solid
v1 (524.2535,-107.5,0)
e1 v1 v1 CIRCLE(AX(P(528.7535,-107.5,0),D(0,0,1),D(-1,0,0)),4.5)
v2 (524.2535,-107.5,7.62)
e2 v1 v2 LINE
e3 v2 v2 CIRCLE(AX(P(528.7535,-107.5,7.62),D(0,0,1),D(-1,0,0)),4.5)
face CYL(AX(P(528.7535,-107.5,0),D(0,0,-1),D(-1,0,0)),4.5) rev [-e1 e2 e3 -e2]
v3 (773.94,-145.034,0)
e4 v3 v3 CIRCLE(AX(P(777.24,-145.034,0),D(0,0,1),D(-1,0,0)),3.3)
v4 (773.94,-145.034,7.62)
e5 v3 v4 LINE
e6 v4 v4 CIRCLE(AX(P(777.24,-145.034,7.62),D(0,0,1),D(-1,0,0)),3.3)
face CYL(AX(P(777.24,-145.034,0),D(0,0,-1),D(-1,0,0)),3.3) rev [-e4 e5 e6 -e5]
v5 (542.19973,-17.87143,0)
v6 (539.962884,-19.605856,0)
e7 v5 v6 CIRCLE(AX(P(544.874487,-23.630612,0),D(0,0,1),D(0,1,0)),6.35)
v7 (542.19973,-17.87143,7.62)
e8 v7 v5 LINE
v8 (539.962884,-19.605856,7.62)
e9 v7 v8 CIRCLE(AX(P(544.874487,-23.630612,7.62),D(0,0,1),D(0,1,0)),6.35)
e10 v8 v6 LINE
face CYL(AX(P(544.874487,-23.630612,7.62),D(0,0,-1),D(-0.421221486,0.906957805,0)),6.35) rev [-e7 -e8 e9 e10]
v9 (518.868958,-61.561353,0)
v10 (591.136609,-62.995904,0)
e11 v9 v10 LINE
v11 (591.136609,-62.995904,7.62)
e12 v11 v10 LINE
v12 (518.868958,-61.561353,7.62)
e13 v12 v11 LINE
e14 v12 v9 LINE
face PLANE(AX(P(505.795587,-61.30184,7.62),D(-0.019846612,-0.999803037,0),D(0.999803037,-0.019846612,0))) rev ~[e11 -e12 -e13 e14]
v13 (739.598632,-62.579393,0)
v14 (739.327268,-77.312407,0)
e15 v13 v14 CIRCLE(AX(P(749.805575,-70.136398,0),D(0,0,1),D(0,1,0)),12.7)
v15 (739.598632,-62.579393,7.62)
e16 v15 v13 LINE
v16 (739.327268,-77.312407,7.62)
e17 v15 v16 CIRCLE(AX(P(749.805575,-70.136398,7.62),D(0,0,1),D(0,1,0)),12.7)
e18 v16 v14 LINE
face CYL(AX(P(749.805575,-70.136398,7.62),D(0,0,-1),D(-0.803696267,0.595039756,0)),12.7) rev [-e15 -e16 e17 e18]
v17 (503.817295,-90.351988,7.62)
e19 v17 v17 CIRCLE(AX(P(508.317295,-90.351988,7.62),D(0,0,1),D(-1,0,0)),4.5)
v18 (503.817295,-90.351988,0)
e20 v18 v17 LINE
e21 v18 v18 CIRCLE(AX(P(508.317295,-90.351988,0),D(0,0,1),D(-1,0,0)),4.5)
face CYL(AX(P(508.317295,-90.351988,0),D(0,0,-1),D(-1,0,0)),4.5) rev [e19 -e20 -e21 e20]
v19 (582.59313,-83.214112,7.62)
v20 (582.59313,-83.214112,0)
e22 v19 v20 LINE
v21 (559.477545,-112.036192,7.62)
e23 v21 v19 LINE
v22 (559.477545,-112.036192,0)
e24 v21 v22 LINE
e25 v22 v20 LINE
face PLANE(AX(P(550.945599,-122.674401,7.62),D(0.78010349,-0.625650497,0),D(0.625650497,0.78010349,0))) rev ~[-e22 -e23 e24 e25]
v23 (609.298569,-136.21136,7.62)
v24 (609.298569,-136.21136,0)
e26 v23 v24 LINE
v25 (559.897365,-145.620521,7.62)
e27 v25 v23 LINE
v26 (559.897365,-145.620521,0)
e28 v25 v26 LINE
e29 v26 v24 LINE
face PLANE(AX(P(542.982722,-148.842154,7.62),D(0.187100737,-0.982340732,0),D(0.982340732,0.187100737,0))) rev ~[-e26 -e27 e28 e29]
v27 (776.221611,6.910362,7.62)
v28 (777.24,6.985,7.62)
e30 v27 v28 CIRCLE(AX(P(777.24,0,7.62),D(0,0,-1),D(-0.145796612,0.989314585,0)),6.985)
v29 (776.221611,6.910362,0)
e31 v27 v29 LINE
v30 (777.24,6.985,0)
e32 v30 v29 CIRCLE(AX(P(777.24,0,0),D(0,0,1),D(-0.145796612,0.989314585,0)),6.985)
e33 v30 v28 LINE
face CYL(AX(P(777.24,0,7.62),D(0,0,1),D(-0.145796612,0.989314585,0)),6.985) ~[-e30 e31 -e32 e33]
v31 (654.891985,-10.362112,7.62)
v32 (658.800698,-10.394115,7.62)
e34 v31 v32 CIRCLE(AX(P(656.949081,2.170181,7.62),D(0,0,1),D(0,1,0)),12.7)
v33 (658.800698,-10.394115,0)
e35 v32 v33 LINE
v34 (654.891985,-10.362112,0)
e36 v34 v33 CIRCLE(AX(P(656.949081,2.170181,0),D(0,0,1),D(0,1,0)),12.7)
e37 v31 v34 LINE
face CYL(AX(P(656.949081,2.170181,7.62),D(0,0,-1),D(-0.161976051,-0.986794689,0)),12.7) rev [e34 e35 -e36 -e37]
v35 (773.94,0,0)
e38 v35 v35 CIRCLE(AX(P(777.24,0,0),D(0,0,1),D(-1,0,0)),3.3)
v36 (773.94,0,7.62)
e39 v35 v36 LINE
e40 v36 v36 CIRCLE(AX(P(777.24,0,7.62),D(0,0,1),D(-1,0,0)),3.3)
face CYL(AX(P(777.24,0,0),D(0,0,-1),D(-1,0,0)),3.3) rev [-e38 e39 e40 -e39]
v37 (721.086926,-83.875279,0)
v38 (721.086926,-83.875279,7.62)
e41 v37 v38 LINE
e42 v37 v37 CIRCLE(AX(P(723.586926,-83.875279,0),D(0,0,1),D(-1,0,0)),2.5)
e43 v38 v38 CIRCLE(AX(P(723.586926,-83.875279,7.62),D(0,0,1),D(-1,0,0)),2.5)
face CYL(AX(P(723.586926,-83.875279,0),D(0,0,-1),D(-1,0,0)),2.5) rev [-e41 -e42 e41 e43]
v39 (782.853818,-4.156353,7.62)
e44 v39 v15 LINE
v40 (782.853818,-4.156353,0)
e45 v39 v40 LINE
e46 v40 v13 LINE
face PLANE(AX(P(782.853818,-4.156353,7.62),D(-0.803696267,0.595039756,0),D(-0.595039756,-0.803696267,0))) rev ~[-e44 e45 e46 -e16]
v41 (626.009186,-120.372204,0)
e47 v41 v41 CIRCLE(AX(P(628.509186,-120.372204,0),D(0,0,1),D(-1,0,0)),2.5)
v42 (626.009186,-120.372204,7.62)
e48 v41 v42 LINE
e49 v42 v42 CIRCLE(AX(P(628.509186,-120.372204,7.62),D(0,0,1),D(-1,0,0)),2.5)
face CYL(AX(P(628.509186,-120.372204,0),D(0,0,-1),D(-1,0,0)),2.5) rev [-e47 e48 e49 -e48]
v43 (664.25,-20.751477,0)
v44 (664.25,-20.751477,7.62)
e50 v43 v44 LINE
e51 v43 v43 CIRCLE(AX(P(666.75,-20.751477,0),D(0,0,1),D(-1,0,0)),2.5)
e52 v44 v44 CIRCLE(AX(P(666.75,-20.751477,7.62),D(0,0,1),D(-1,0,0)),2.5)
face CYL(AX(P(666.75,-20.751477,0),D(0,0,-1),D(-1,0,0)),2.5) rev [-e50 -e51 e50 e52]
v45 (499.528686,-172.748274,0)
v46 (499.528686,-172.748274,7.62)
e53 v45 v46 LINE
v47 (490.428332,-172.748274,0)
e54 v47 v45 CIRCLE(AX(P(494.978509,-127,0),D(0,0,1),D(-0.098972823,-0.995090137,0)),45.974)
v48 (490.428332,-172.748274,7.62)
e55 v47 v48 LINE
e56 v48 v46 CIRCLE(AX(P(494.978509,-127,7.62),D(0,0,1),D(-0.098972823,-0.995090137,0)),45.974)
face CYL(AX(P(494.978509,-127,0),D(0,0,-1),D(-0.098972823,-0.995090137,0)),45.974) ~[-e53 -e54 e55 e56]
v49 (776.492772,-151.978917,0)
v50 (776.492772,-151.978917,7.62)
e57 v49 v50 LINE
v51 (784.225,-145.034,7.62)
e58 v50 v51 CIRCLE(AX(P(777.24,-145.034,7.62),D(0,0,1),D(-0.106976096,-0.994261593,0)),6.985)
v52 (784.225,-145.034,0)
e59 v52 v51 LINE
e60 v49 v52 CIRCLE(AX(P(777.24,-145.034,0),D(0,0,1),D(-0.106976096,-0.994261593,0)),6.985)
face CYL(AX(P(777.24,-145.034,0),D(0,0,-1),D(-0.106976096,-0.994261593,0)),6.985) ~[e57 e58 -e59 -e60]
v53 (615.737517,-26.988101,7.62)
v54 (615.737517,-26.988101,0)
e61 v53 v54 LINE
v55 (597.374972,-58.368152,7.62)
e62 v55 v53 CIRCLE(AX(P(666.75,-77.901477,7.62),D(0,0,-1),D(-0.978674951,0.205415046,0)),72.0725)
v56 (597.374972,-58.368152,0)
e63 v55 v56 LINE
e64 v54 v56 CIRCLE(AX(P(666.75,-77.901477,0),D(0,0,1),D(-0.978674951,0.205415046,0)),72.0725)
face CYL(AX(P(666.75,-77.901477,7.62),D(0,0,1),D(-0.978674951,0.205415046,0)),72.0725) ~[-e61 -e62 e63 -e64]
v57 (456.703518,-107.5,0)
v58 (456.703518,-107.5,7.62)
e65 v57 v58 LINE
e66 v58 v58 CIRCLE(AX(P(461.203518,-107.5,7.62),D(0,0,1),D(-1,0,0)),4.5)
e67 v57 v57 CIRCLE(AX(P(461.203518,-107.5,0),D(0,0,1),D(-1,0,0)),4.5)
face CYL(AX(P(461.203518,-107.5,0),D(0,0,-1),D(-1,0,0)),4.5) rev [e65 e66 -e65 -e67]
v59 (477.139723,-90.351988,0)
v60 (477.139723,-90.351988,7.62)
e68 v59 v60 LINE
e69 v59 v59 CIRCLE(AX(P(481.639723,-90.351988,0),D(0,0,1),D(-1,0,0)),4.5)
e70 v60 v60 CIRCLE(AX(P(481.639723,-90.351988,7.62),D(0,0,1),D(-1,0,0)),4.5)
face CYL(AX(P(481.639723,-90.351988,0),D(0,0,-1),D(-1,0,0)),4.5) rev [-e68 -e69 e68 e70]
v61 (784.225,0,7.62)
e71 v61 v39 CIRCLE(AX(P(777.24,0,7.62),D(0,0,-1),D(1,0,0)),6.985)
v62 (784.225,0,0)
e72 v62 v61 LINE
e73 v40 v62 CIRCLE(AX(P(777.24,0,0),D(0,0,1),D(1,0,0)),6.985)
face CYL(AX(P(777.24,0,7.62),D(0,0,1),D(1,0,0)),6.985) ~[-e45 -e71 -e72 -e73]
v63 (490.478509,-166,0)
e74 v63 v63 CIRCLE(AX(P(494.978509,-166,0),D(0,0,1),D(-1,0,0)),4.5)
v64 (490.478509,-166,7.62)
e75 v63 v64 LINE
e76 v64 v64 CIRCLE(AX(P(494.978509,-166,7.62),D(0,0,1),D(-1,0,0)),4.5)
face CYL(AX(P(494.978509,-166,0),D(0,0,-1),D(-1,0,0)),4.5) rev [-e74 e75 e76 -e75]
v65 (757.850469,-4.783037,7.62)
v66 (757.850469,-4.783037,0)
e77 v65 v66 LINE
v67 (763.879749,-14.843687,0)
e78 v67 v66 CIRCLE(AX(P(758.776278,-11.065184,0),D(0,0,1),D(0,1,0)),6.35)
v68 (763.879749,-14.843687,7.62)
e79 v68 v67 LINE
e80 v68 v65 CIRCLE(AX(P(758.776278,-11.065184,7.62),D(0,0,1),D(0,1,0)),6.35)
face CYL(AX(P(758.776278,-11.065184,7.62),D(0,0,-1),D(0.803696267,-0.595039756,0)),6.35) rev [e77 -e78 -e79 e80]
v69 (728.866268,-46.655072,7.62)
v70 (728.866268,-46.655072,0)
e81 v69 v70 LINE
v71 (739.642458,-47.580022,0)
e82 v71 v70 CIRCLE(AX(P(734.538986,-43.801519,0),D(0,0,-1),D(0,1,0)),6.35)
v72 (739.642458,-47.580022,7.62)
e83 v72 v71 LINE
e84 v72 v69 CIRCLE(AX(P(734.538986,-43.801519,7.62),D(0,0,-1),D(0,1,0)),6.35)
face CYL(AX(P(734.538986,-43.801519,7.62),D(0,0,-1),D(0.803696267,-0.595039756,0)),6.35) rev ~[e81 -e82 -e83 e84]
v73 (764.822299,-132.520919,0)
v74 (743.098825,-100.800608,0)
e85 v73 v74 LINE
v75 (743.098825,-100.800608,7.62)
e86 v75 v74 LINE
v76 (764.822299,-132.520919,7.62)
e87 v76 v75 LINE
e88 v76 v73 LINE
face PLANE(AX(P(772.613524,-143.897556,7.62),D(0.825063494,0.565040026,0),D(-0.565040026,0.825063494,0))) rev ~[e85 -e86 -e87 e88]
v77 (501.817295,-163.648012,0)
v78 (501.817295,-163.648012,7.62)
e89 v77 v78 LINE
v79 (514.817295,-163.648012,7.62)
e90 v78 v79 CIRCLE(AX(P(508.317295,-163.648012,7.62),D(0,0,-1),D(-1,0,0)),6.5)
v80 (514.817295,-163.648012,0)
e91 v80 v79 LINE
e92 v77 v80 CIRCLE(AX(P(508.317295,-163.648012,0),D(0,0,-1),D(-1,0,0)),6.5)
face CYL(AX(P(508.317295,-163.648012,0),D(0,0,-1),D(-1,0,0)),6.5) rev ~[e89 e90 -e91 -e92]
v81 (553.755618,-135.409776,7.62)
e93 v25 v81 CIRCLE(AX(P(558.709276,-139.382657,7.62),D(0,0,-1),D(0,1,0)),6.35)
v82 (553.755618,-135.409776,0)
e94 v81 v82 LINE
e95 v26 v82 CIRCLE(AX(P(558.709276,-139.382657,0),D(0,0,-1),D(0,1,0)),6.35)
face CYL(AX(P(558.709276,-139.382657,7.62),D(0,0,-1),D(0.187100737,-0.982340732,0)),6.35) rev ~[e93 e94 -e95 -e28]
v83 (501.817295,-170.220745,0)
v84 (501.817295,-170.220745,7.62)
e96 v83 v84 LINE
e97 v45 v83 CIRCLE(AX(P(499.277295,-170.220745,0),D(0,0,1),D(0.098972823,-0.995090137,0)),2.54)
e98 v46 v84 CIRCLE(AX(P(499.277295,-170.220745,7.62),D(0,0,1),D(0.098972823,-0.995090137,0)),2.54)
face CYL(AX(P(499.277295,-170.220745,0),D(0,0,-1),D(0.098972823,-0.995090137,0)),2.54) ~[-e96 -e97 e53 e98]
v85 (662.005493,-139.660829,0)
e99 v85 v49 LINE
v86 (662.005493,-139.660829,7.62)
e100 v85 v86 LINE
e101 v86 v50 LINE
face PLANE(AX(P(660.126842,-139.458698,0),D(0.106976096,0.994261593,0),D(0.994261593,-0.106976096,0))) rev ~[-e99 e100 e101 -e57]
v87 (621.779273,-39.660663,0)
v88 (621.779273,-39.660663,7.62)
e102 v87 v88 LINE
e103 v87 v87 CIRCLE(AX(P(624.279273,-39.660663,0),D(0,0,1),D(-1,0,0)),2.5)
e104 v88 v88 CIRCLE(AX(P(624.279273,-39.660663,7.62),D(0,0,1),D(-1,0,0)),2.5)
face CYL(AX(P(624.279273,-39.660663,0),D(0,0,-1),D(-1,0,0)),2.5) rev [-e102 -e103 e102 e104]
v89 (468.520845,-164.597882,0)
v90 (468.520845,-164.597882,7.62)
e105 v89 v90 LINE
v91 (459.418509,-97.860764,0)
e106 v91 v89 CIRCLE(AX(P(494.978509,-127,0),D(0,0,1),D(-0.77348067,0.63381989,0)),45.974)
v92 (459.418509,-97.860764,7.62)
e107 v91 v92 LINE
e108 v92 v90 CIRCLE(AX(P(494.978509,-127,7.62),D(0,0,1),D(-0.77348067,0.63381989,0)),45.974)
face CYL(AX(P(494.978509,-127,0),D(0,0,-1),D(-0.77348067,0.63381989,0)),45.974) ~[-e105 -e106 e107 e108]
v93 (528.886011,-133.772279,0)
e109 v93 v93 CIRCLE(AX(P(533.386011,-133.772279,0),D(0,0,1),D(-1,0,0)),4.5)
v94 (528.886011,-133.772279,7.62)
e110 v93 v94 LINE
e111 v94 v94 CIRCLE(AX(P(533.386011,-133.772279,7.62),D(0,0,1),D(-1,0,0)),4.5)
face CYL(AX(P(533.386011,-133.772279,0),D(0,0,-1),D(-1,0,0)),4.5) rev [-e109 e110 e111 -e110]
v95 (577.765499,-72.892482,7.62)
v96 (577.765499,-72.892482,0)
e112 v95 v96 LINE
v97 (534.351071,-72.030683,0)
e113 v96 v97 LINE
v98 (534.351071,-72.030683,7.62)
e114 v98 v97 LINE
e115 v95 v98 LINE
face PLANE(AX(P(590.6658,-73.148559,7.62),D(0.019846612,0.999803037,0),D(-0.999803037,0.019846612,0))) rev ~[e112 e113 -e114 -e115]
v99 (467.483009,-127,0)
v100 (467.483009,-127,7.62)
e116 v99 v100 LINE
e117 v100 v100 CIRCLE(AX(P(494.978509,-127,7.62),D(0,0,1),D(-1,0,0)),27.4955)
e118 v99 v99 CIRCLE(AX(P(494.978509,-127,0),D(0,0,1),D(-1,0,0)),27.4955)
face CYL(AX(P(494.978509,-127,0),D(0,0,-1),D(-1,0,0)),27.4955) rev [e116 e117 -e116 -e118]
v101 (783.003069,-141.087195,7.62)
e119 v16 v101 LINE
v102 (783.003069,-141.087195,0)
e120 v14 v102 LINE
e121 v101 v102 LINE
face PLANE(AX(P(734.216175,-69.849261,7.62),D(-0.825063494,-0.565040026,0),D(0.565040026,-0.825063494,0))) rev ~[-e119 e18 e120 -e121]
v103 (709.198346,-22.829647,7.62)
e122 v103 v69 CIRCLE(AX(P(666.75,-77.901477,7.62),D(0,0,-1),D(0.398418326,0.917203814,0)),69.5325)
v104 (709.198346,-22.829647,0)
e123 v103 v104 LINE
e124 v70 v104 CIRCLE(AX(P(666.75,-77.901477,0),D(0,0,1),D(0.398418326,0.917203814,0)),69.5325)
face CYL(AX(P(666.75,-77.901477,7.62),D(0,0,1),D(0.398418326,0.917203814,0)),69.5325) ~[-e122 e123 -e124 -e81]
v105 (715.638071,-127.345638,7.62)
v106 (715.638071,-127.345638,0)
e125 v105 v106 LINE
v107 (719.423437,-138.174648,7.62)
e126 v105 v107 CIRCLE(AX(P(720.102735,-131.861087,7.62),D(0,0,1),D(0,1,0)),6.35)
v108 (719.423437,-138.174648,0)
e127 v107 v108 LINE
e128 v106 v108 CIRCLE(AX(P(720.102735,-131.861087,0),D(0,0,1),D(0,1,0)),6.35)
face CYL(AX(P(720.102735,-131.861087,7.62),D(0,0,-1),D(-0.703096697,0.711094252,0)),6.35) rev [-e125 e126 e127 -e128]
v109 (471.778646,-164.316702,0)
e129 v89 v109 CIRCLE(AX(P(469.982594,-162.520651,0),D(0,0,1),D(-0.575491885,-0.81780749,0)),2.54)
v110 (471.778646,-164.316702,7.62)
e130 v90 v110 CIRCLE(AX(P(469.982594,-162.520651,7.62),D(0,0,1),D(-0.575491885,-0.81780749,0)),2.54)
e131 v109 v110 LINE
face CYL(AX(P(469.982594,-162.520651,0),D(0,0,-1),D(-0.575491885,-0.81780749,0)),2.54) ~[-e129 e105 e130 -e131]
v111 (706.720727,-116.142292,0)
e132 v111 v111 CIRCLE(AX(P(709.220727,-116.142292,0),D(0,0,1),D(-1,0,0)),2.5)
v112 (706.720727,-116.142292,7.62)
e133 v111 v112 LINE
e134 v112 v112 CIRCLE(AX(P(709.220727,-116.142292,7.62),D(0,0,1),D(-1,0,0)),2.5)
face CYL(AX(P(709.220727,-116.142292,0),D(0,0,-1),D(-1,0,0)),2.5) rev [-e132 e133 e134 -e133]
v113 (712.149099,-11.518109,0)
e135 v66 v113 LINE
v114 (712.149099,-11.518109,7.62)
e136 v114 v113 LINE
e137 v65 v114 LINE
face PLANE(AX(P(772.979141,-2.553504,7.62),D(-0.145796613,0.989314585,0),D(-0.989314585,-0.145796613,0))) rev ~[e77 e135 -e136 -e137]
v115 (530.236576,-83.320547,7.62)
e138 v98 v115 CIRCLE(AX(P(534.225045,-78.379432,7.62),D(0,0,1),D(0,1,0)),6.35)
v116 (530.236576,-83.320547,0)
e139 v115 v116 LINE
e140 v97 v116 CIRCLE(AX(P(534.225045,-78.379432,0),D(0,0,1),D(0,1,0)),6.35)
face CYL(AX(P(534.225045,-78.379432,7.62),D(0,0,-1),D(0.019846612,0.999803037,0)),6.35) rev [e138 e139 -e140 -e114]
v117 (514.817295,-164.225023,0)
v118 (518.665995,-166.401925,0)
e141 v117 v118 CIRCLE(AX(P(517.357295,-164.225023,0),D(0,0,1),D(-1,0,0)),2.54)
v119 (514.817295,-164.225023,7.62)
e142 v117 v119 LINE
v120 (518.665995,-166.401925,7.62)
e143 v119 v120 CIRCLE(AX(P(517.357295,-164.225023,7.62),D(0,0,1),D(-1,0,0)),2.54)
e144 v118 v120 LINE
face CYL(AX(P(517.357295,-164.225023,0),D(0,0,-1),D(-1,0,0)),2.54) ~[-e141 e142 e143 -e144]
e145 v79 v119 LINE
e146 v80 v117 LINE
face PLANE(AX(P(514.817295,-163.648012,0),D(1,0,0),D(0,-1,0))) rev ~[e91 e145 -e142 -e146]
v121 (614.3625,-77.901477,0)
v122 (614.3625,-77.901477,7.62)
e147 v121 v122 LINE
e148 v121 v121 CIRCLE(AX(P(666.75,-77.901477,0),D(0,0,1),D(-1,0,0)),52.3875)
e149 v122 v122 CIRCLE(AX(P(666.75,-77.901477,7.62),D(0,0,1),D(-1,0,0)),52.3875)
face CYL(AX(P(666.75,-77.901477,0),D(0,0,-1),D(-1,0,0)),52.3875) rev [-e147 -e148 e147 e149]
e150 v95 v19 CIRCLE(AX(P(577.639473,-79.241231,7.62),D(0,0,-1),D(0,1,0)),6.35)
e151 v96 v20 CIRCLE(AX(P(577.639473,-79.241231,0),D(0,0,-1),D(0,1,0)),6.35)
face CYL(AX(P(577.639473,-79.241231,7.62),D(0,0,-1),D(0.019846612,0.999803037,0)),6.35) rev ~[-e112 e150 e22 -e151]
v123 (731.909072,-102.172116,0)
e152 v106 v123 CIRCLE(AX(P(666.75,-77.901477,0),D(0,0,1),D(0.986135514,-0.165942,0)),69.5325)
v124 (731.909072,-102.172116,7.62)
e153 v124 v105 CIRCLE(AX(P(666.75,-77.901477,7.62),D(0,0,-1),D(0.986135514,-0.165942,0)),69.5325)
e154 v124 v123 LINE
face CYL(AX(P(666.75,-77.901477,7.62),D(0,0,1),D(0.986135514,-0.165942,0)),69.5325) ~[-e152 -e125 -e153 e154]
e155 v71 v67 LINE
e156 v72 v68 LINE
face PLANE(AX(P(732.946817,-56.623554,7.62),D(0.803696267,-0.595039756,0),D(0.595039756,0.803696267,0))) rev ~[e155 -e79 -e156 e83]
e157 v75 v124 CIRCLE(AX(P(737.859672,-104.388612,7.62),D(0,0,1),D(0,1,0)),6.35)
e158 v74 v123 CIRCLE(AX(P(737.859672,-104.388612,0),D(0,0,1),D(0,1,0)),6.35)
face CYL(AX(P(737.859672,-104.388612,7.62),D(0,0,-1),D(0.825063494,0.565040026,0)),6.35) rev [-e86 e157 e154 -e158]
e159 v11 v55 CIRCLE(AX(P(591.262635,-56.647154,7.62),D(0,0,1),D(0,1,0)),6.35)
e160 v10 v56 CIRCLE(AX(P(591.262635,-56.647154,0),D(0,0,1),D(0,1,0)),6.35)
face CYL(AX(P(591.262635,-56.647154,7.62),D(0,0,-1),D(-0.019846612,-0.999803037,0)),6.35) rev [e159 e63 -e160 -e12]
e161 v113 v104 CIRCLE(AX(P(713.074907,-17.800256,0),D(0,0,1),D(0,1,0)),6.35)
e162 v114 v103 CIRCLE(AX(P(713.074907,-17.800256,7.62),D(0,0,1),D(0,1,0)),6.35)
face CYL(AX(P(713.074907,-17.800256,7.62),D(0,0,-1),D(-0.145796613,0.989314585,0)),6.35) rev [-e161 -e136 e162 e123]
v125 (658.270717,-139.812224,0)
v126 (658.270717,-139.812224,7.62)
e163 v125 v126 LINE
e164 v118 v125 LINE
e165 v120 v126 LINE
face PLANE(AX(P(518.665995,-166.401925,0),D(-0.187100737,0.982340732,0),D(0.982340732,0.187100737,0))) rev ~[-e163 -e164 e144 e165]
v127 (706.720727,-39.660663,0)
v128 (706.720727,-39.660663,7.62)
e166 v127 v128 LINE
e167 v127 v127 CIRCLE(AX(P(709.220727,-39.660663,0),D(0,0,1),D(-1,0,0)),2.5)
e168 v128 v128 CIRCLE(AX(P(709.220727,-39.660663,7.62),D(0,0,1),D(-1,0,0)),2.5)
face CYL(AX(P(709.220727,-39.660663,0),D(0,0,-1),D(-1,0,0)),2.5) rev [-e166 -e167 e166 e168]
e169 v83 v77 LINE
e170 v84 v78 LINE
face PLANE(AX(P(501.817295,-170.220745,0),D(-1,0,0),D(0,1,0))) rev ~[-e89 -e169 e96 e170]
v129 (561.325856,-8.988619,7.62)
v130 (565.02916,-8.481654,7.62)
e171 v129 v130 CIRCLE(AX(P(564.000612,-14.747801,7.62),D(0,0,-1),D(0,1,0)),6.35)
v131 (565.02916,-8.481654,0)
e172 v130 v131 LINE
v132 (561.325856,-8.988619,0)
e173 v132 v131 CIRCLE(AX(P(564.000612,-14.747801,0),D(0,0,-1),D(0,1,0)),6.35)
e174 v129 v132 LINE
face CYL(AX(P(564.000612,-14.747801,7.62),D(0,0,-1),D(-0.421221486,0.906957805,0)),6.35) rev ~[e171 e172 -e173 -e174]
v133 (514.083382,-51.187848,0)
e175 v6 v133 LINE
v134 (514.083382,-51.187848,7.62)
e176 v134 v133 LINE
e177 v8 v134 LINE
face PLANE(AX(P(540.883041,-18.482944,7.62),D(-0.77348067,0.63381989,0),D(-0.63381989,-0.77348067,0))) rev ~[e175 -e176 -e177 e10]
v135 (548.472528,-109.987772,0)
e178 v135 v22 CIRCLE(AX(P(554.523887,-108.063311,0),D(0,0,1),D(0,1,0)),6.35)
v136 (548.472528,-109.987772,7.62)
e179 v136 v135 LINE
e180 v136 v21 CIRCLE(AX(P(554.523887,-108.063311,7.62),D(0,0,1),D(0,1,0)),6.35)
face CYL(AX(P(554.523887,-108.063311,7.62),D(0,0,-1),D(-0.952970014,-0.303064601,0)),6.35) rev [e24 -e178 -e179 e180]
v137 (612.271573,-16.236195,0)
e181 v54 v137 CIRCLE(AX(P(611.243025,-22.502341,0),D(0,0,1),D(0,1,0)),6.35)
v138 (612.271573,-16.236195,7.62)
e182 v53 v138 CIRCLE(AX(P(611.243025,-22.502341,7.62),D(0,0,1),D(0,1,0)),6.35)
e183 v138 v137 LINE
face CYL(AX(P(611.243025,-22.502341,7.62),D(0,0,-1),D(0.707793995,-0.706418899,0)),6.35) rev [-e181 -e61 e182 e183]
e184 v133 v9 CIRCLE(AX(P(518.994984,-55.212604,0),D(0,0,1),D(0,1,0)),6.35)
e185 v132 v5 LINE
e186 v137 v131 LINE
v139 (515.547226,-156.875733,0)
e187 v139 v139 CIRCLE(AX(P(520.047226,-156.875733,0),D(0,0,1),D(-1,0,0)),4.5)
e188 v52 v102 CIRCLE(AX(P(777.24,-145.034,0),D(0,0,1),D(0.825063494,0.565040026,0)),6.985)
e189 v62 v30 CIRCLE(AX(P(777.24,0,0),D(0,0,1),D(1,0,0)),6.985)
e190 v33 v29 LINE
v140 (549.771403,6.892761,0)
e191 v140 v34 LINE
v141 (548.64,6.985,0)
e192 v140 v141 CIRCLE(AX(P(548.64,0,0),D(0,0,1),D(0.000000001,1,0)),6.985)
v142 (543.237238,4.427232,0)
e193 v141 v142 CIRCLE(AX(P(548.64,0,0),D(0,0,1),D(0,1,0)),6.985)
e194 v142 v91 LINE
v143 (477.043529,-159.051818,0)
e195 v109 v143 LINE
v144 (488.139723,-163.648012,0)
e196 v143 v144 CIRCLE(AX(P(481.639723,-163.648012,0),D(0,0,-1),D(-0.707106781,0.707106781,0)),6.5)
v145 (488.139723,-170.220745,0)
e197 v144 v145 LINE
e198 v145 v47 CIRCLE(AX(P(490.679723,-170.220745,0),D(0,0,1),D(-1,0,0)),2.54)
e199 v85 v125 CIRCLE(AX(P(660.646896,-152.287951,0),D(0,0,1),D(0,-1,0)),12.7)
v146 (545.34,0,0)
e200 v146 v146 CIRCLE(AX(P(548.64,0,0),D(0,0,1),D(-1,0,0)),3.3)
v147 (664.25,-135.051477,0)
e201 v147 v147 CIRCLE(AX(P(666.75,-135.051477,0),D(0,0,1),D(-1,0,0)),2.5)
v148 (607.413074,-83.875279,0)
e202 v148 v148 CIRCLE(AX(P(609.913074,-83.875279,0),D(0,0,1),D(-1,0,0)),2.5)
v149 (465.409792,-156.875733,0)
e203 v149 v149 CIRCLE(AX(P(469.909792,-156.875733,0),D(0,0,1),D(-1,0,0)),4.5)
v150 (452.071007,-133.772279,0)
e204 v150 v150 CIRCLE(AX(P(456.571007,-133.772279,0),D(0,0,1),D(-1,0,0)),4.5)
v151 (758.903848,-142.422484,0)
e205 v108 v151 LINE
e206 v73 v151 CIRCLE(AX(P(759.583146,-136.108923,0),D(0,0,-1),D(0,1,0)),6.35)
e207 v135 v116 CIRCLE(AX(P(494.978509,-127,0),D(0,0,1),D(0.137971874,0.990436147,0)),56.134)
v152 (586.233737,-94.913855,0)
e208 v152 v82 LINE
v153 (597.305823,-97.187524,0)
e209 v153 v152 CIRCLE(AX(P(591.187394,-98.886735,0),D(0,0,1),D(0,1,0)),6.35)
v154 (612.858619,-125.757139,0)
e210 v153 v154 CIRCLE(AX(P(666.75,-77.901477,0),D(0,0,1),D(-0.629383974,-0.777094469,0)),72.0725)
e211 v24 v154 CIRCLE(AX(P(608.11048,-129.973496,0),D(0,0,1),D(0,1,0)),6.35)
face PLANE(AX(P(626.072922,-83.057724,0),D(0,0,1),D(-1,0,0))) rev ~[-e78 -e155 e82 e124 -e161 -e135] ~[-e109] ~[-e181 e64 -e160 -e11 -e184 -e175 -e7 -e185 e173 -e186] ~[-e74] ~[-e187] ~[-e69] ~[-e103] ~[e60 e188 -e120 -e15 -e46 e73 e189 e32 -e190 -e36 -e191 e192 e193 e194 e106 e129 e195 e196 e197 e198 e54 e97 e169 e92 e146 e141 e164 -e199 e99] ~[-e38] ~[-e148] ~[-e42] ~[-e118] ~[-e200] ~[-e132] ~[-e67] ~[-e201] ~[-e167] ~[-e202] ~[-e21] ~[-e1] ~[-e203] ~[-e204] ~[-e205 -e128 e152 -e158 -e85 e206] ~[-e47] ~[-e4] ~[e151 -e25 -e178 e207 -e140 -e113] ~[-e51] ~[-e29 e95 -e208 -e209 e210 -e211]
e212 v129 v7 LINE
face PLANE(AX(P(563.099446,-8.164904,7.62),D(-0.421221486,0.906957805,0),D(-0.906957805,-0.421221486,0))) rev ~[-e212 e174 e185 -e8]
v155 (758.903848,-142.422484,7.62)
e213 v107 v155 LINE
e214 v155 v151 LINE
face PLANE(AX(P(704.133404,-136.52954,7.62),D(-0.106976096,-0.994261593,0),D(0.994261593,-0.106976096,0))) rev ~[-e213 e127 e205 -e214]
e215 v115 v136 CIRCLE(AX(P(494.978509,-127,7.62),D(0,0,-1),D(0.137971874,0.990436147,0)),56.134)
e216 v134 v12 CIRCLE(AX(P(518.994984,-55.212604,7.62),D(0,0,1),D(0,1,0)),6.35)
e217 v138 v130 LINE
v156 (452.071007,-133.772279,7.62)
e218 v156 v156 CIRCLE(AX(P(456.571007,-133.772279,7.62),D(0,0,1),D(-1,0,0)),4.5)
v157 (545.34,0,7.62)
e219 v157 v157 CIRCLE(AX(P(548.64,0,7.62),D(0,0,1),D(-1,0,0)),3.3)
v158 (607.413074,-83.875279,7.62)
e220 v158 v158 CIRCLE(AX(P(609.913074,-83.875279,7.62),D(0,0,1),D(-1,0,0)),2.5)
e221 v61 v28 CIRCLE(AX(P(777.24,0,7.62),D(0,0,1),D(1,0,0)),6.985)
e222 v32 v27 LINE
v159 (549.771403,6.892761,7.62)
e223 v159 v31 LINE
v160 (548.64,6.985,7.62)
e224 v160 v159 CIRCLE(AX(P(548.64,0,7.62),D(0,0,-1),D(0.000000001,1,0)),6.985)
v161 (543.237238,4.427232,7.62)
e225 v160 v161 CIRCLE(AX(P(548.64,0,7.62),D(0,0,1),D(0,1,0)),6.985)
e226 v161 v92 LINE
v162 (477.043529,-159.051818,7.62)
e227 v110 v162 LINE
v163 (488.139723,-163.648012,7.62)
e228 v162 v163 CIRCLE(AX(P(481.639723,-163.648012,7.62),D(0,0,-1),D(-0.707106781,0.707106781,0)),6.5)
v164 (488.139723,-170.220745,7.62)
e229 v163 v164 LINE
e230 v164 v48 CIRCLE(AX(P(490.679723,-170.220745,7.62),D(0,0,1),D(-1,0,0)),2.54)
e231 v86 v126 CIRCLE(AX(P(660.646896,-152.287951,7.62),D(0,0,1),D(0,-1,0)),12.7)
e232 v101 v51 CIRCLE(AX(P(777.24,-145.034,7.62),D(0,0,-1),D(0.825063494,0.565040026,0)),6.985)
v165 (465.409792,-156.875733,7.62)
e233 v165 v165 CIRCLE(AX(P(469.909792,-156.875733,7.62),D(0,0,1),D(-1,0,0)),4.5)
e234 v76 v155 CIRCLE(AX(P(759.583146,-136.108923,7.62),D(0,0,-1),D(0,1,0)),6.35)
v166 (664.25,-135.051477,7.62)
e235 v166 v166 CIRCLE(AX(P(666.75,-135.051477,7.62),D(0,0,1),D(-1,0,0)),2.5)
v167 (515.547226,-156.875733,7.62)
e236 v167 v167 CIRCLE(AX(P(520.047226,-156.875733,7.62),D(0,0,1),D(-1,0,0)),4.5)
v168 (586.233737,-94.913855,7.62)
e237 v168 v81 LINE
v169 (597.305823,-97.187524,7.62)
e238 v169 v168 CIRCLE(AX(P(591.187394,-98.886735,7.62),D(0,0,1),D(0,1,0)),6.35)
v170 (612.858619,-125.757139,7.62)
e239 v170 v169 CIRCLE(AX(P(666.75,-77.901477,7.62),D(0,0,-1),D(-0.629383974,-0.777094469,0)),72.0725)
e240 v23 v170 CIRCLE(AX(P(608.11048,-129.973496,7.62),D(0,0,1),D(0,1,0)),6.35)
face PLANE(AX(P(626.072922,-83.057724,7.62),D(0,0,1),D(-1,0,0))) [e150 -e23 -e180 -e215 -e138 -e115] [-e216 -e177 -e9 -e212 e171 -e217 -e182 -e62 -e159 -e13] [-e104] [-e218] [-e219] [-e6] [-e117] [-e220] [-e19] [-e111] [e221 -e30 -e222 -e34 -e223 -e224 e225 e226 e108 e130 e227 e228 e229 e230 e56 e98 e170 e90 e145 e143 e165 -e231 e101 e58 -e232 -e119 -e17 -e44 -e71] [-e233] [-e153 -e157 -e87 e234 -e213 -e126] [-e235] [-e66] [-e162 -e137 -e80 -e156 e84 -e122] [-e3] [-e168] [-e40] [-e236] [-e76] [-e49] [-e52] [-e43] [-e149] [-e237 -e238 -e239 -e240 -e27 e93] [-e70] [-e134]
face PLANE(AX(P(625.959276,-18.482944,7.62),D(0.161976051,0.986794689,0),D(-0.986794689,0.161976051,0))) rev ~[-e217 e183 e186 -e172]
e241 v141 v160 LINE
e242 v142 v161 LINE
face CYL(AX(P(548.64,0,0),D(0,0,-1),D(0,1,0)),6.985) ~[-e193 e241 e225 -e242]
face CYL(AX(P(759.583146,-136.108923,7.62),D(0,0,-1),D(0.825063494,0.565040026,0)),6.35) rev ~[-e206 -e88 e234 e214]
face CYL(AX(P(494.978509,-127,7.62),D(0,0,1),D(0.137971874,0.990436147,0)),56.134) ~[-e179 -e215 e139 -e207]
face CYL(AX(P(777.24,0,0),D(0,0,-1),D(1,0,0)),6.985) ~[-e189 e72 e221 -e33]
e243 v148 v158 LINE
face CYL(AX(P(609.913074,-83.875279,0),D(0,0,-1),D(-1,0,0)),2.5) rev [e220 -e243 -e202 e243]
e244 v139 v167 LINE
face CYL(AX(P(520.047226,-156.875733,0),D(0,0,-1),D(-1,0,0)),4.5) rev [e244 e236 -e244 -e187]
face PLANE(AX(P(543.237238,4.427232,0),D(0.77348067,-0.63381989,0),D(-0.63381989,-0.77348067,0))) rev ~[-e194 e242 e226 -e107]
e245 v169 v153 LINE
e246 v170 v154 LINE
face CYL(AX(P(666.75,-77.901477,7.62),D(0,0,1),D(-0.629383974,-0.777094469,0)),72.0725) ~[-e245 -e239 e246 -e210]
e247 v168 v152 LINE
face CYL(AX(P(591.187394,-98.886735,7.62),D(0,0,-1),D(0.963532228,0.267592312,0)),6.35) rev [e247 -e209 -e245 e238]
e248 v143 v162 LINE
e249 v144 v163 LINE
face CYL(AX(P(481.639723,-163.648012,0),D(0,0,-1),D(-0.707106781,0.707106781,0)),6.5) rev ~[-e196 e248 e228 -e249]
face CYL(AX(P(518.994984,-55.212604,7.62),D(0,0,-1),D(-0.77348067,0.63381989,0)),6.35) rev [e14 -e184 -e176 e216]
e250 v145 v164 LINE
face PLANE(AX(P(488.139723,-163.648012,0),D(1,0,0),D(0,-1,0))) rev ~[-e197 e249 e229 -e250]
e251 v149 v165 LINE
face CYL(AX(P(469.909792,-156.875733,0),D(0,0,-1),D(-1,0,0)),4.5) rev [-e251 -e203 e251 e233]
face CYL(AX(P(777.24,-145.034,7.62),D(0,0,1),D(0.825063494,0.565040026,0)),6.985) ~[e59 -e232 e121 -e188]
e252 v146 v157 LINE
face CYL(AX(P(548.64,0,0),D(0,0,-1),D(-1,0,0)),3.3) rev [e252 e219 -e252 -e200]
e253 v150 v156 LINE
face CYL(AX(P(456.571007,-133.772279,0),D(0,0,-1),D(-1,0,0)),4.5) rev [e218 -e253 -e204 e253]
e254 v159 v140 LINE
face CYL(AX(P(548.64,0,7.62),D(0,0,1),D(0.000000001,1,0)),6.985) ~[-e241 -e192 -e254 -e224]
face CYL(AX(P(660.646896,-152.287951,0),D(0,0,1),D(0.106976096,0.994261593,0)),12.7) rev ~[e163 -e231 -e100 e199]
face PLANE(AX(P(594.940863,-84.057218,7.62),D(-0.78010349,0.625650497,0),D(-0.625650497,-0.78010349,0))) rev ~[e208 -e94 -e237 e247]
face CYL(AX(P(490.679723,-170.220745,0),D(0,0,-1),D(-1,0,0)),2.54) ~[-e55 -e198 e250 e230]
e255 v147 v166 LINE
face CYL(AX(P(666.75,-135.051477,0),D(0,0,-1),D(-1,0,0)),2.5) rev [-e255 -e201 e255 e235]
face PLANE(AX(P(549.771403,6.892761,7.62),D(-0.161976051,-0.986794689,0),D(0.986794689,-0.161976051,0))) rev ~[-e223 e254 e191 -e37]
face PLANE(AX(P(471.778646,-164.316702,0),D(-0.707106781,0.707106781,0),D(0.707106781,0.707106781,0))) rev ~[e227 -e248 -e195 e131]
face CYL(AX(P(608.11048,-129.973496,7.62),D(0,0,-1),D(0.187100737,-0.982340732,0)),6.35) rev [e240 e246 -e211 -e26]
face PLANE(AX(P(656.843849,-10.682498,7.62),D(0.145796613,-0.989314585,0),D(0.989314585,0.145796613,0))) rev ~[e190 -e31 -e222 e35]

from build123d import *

# Parameters (mm, degrees)
SKETCH15_R          = 4.5
SKETCH15_R_2        = 27.4955
SKETCH15_R_3        = 2.5
SKETCH15_R_4        = 52.3875
SKETCH15_R_5        = 3.3
BOSS_EXTRUDE1_DEPTH = 7.62
PROFILE_DEPTH       = 804.110776731
PROF_FILLET_R       = 12.7
CUT_EXTRUDE2_DEPTH  = 804.110776731
FILLET2_R           = 6.35
CUT_EXTRUDE4_DEPTH  = 804.110776731
FILLET5_R           = 6.35


with BuildPart() as part:
    # Sketch15 → Boss-Extrude1 (new body)
    with BuildSketch(Plane(origin=(0, 0, 0), x_dir=(-1, 0, 0), z_dir=(0, 0, 1))):
        with BuildLine():
            ThreePointArc((-468.520845097, 164.597881552), (-470.201009111, 165.051242365), (-471.778645707, 164.316701751))
            Line((-471.778645707, 164.316701751), (-477.043529325, 159.051818133))
            ThreePointArc((-477.043529325, 159.051818133), (-484.127165713, 157.642795249), (-488.139723403, 163.648012211))
            Line((-488.139723403, 163.648012211), (-488.139723403, 170.220745001))
            ThreePointArc((-488.139723403, 170.220745001), (-488.796888696, 171.925600851), (-490.428332433, 172.748273949))
            ThreePointArc((-490.428332433, 172.748273949), (-494.978508993, 172.974), (-499.528685552, 172.748273949))
            ThreePointArc((-499.528685552, 172.748273949), (-501.160129289, 171.925600851), (-501.817294582, 170.220745001))
            Line((-501.817294582, 170.220745001), (-501.817294582, 163.648012211))
            ThreePointArc((-501.817294582, 163.648012211), (-508.317294582, 157.148012211), (-514.817294582, 163.648012211))
            Line((-514.817294582, 163.648012211), (-514.817294582, 164.225022653))
            ThreePointArc((-514.817294582, 164.225022653), (-516.106794745, 166.435870942), (-518.665995494, 166.401924563))
            Line((-518.665995494, 166.401924563), (-660.126842441, 139.458698233))
            Line((-660.126842441, 139.458698233), (-776.492771968, 151.978917225))
            ThreePointArc((-776.492771968, 151.978917225), (-781.907485254, 150.230614898), (-784.225, 145.034))
            Line((-784.225, 145.034), (-784.225, 0))
            ThreePointArc((-784.225, 0), (-782.179140867, -4.939140867), (-777.24, -6.985))
            Line((-777.24, -6.985), (-548.64, -6.985))
            ThreePointArc((-548.64, -6.985), (-545.651186694, -6.313257481), (-543.237237519, -4.427231931))
            Line((-543.237237519, -4.427231931), (-459.418508663, 97.860764379))
            ThreePointArc((-459.418508663, 97.860764379), (-449.426249212, 133.212914363), (-468.520845097, 164.597881552))
        make_face()
        with Locations((-508.317294582, 90.351987789)):
            Circle(SKETCH15_R, mode=Mode.SUBTRACT)
        with Locations((-481.639723403, 90.351987789)):
            Circle(SKETCH15_R, mode=Mode.SUBTRACT)
        with Locations((-528.75349974, 107.5)):
            Circle(SKETCH15_R, mode=Mode.SUBTRACT)
        with Locations((-461.203518245, 107.5)):
            Circle(SKETCH15_R, mode=Mode.SUBTRACT)
        with Locations((-533.38601136, 133.772278929)):
            Circle(SKETCH15_R, mode=Mode.SUBTRACT)
        with Locations((-494.978508993, 127)):
            Circle(SKETCH15_R_2, mode=Mode.SUBTRACT)
        with Locations((-456.571006625, 133.772278929)):
            Circle(SKETCH15_R, mode=Mode.SUBTRACT)
        with Locations((-520.04722577, 156.875733282)):
            Circle(SKETCH15_R, mode=Mode.SUBTRACT)
        with Locations((-494.978508993, 166)):
            Circle(SKETCH15_R, mode=Mode.SUBTRACT)
        with Locations((-469.909792215, 156.875733282)):
            Circle(SKETCH15_R, mode=Mode.SUBTRACT)
        with Locations((-609.91307368, 83.875279047)):
            Circle(SKETCH15_R_3, mode=Mode.SUBTRACT)
        with Locations((-666.75, 135.051477371)):
            Circle(SKETCH15_R_3, mode=Mode.SUBTRACT)
        with Locations((-666.75, 20.751477371)):
            Circle(SKETCH15_R_3, mode=Mode.SUBTRACT)
        with Locations((-709.220726776, 39.660663218)):
            Circle(SKETCH15_R_3, mode=Mode.SUBTRACT)
        with Locations((-624.279273224, 39.660663218)):
            Circle(SKETCH15_R_3, mode=Mode.SUBTRACT)
        with Locations((-666.75, 77.901477371)):
            Circle(SKETCH15_R_4, mode=Mode.SUBTRACT)
        with Locations((-723.58692632, 83.875279047)):
            Circle(SKETCH15_R_3, mode=Mode.SUBTRACT)
        with Locations((-709.220726776, 116.142291524)):
            Circle(SKETCH15_R_3, mode=Mode.SUBTRACT)
        with Locations((-628.509185847, 120.372204147)):
            Circle(SKETCH15_R_3, mode=Mode.SUBTRACT)
        with Locations((-548.64, 0)):
            Circle(SKETCH15_R_5, mode=Mode.SUBTRACT)
        with Locations((-777.24, 0)):
            Circle(SKETCH15_R_5, mode=Mode.SUBTRACT)
        with Locations((-777.24, 145.034)):
            Circle(SKETCH15_R_5, mode=Mode.SUBTRACT)
    extrude(amount=BOSS_EXTRUDE1_DEPTH)

    # Sketch18 → Profile (cut, through all)
    with BuildSketch(Plane.XY.offset(7.62)):
        with BuildLine():
            Line((656.843849148, -10.682497906), (776.22161066, 6.910362375))
            ThreePointArc((776.22161066, 6.910362375), (776.729439616, 6.966315604), (777.24, 6.985))
            Line((777.24, 6.985), (548.64, 6.985))
            ThreePointArc((548.64, 6.985), (549.207578223, 6.961902036), (549.771402717, 6.892760905))
            Line((549.771402717, 6.892760905), (656.843849148, -10.682497906))
        make_face()
        with BuildLine():
            Line((734.216175486, -69.849260886), (783.003068504, -141.087195416))
            ThreePointArc((783.003068504, -141.087195416), (783.91252795, -142.968183999), (784.225, -145.034))
            Line((784.225, -145.034), (784.225, 0))
            ThreePointArc((784.225, 0), (783.873353099, -2.188344502), (782.853818423, -4.156352694))
            Line((782.853818423, -4.156352694), (734.216175486, -69.849260886))
        make_face()
    extrude(amount=-PROFILE_DEPTH, mode=Mode.SUBTRACT)

    # Prof Fillet
    prof_fillet_edges = [part.edges().sort_by_distance(p)[0] for p in [
        (660.126842441, -139.458698233, 3.81),
        (734.216175486, -69.849260886, 3.81),
        (656.843849148, -10.682497906, 3.81),
    ]]
    fillet(prof_fillet_edges, radius=PROF_FILLET_R)

    # Sketch19 → Cut-Extrude2 (cut, through all)
    with BuildSketch(Plane.XY.offset(7.62)):
        with BuildLine():
            ThreePointArc((694.45302227, -14.12600314), (718.284506978, -31.22211205), (732.946816776, -56.623554423))
            Line((732.946816776, -56.623554423), (772.979141054, -2.553504053))
            Line((772.979141054, -2.553504053), (694.45302227, -14.12600314))
        make_face()
        with BuildLine():
            Line((772.613524345, -143.897556318), (735.318467656, -89.439839453))
            ThreePointArc((735.318467656, -89.439839453), (724.722491105, -116.293648856), (704.133403657, -136.529539656))
            Line((704.133403657, -136.529539656), (772.613524345, -143.897556318))
        make_face()
    extrude(amount=-CUT_EXTRUDE2_DEPTH, mode=Mode.SUBTRACT)

    # Fillet2
    fillet2_edges = [part.edges().sort_by_distance(p)[0] for p in [
        (694.45302227, -14.12600314, 3.81),
        (772.979141054, -2.553504053, 3.81),
        (732.946816776, -56.623554423, 3.81),
        (772.613524345, -143.897556318, 3.81),
        (704.133403657, -136.529539656, 3.81),
        (735.318467656, -89.439839453, 3.81),
    ]]
    fillet(fillet2_edges, radius=FILLET2_R)

    # Sketch22 → Cut-Extrude4 (cut, through all)
    with BuildSketch(Plane.XY.offset(7.62)):
        with BuildLine():
            Line((563.09944586, -8.164904037), (540.883041369, -18.482944043))
            Line((540.883041369, -18.482944043), (505.79558687, -61.301839836))
            Line((505.79558687, -61.301839836), (596.214449629, -63.096701449))
            ThreePointArc((596.214449629, -63.096701449), (606.783495422, -37.920687172), (625.959276135, -18.482944043))
            Line((625.959276135, -18.482944043), (563.09944586, -8.164904037))
        make_face()
        with BuildLine():
            Line((542.982722013, -148.842154434), (621.388723544, -133.908618474))
            ThreePointArc((621.388723544, -133.908618474), (603.082763934, -111.679107661), (594.94086334, -84.057218462))
            Line((594.94086334, -84.057218462), (542.982722013, -148.842154434))
        make_face()
        with BuildLine():
            Line((590.665799743, -73.148559395), (502.723422183, -71.402857307))
            ThreePointArc((502.723422183, -71.402857307), (535.868576594, -88.541862661), (550.94559886, -122.674400877))
            Line((550.94559886, -122.674400877), (590.665799743, -73.148559395))
        make_face()
    extrude(amount=-CUT_EXTRUDE4_DEPTH, mode=Mode.SUBTRACT)

    # Fillet5
    fillet5_edges = [part.edges().sort_by_distance(p)[0] for p in [
        (621.388723544, -133.908618474, 3.81),
        (542.982722013, -148.842154434, 3.81),
        (594.94086334, -84.057218462, 3.81),
        (550.94559886, -122.674400877, 3.81),
        (590.665799743, -73.148559395, 3.81),
        (502.723422183, -71.402857307, 3.81),
        (596.214449629, -63.096701449, 3.81),
        (505.79558687, -61.301839836, 3.81),
        (625.959276135, -18.482944043, 3.81),
        (563.09944586, -8.164904037, 3.81),
        (540.883041369, -18.482944043, 3.81),
    ]]
    fillet(fillet5_edges, radius=FILLET5_R)


solid = part.part
